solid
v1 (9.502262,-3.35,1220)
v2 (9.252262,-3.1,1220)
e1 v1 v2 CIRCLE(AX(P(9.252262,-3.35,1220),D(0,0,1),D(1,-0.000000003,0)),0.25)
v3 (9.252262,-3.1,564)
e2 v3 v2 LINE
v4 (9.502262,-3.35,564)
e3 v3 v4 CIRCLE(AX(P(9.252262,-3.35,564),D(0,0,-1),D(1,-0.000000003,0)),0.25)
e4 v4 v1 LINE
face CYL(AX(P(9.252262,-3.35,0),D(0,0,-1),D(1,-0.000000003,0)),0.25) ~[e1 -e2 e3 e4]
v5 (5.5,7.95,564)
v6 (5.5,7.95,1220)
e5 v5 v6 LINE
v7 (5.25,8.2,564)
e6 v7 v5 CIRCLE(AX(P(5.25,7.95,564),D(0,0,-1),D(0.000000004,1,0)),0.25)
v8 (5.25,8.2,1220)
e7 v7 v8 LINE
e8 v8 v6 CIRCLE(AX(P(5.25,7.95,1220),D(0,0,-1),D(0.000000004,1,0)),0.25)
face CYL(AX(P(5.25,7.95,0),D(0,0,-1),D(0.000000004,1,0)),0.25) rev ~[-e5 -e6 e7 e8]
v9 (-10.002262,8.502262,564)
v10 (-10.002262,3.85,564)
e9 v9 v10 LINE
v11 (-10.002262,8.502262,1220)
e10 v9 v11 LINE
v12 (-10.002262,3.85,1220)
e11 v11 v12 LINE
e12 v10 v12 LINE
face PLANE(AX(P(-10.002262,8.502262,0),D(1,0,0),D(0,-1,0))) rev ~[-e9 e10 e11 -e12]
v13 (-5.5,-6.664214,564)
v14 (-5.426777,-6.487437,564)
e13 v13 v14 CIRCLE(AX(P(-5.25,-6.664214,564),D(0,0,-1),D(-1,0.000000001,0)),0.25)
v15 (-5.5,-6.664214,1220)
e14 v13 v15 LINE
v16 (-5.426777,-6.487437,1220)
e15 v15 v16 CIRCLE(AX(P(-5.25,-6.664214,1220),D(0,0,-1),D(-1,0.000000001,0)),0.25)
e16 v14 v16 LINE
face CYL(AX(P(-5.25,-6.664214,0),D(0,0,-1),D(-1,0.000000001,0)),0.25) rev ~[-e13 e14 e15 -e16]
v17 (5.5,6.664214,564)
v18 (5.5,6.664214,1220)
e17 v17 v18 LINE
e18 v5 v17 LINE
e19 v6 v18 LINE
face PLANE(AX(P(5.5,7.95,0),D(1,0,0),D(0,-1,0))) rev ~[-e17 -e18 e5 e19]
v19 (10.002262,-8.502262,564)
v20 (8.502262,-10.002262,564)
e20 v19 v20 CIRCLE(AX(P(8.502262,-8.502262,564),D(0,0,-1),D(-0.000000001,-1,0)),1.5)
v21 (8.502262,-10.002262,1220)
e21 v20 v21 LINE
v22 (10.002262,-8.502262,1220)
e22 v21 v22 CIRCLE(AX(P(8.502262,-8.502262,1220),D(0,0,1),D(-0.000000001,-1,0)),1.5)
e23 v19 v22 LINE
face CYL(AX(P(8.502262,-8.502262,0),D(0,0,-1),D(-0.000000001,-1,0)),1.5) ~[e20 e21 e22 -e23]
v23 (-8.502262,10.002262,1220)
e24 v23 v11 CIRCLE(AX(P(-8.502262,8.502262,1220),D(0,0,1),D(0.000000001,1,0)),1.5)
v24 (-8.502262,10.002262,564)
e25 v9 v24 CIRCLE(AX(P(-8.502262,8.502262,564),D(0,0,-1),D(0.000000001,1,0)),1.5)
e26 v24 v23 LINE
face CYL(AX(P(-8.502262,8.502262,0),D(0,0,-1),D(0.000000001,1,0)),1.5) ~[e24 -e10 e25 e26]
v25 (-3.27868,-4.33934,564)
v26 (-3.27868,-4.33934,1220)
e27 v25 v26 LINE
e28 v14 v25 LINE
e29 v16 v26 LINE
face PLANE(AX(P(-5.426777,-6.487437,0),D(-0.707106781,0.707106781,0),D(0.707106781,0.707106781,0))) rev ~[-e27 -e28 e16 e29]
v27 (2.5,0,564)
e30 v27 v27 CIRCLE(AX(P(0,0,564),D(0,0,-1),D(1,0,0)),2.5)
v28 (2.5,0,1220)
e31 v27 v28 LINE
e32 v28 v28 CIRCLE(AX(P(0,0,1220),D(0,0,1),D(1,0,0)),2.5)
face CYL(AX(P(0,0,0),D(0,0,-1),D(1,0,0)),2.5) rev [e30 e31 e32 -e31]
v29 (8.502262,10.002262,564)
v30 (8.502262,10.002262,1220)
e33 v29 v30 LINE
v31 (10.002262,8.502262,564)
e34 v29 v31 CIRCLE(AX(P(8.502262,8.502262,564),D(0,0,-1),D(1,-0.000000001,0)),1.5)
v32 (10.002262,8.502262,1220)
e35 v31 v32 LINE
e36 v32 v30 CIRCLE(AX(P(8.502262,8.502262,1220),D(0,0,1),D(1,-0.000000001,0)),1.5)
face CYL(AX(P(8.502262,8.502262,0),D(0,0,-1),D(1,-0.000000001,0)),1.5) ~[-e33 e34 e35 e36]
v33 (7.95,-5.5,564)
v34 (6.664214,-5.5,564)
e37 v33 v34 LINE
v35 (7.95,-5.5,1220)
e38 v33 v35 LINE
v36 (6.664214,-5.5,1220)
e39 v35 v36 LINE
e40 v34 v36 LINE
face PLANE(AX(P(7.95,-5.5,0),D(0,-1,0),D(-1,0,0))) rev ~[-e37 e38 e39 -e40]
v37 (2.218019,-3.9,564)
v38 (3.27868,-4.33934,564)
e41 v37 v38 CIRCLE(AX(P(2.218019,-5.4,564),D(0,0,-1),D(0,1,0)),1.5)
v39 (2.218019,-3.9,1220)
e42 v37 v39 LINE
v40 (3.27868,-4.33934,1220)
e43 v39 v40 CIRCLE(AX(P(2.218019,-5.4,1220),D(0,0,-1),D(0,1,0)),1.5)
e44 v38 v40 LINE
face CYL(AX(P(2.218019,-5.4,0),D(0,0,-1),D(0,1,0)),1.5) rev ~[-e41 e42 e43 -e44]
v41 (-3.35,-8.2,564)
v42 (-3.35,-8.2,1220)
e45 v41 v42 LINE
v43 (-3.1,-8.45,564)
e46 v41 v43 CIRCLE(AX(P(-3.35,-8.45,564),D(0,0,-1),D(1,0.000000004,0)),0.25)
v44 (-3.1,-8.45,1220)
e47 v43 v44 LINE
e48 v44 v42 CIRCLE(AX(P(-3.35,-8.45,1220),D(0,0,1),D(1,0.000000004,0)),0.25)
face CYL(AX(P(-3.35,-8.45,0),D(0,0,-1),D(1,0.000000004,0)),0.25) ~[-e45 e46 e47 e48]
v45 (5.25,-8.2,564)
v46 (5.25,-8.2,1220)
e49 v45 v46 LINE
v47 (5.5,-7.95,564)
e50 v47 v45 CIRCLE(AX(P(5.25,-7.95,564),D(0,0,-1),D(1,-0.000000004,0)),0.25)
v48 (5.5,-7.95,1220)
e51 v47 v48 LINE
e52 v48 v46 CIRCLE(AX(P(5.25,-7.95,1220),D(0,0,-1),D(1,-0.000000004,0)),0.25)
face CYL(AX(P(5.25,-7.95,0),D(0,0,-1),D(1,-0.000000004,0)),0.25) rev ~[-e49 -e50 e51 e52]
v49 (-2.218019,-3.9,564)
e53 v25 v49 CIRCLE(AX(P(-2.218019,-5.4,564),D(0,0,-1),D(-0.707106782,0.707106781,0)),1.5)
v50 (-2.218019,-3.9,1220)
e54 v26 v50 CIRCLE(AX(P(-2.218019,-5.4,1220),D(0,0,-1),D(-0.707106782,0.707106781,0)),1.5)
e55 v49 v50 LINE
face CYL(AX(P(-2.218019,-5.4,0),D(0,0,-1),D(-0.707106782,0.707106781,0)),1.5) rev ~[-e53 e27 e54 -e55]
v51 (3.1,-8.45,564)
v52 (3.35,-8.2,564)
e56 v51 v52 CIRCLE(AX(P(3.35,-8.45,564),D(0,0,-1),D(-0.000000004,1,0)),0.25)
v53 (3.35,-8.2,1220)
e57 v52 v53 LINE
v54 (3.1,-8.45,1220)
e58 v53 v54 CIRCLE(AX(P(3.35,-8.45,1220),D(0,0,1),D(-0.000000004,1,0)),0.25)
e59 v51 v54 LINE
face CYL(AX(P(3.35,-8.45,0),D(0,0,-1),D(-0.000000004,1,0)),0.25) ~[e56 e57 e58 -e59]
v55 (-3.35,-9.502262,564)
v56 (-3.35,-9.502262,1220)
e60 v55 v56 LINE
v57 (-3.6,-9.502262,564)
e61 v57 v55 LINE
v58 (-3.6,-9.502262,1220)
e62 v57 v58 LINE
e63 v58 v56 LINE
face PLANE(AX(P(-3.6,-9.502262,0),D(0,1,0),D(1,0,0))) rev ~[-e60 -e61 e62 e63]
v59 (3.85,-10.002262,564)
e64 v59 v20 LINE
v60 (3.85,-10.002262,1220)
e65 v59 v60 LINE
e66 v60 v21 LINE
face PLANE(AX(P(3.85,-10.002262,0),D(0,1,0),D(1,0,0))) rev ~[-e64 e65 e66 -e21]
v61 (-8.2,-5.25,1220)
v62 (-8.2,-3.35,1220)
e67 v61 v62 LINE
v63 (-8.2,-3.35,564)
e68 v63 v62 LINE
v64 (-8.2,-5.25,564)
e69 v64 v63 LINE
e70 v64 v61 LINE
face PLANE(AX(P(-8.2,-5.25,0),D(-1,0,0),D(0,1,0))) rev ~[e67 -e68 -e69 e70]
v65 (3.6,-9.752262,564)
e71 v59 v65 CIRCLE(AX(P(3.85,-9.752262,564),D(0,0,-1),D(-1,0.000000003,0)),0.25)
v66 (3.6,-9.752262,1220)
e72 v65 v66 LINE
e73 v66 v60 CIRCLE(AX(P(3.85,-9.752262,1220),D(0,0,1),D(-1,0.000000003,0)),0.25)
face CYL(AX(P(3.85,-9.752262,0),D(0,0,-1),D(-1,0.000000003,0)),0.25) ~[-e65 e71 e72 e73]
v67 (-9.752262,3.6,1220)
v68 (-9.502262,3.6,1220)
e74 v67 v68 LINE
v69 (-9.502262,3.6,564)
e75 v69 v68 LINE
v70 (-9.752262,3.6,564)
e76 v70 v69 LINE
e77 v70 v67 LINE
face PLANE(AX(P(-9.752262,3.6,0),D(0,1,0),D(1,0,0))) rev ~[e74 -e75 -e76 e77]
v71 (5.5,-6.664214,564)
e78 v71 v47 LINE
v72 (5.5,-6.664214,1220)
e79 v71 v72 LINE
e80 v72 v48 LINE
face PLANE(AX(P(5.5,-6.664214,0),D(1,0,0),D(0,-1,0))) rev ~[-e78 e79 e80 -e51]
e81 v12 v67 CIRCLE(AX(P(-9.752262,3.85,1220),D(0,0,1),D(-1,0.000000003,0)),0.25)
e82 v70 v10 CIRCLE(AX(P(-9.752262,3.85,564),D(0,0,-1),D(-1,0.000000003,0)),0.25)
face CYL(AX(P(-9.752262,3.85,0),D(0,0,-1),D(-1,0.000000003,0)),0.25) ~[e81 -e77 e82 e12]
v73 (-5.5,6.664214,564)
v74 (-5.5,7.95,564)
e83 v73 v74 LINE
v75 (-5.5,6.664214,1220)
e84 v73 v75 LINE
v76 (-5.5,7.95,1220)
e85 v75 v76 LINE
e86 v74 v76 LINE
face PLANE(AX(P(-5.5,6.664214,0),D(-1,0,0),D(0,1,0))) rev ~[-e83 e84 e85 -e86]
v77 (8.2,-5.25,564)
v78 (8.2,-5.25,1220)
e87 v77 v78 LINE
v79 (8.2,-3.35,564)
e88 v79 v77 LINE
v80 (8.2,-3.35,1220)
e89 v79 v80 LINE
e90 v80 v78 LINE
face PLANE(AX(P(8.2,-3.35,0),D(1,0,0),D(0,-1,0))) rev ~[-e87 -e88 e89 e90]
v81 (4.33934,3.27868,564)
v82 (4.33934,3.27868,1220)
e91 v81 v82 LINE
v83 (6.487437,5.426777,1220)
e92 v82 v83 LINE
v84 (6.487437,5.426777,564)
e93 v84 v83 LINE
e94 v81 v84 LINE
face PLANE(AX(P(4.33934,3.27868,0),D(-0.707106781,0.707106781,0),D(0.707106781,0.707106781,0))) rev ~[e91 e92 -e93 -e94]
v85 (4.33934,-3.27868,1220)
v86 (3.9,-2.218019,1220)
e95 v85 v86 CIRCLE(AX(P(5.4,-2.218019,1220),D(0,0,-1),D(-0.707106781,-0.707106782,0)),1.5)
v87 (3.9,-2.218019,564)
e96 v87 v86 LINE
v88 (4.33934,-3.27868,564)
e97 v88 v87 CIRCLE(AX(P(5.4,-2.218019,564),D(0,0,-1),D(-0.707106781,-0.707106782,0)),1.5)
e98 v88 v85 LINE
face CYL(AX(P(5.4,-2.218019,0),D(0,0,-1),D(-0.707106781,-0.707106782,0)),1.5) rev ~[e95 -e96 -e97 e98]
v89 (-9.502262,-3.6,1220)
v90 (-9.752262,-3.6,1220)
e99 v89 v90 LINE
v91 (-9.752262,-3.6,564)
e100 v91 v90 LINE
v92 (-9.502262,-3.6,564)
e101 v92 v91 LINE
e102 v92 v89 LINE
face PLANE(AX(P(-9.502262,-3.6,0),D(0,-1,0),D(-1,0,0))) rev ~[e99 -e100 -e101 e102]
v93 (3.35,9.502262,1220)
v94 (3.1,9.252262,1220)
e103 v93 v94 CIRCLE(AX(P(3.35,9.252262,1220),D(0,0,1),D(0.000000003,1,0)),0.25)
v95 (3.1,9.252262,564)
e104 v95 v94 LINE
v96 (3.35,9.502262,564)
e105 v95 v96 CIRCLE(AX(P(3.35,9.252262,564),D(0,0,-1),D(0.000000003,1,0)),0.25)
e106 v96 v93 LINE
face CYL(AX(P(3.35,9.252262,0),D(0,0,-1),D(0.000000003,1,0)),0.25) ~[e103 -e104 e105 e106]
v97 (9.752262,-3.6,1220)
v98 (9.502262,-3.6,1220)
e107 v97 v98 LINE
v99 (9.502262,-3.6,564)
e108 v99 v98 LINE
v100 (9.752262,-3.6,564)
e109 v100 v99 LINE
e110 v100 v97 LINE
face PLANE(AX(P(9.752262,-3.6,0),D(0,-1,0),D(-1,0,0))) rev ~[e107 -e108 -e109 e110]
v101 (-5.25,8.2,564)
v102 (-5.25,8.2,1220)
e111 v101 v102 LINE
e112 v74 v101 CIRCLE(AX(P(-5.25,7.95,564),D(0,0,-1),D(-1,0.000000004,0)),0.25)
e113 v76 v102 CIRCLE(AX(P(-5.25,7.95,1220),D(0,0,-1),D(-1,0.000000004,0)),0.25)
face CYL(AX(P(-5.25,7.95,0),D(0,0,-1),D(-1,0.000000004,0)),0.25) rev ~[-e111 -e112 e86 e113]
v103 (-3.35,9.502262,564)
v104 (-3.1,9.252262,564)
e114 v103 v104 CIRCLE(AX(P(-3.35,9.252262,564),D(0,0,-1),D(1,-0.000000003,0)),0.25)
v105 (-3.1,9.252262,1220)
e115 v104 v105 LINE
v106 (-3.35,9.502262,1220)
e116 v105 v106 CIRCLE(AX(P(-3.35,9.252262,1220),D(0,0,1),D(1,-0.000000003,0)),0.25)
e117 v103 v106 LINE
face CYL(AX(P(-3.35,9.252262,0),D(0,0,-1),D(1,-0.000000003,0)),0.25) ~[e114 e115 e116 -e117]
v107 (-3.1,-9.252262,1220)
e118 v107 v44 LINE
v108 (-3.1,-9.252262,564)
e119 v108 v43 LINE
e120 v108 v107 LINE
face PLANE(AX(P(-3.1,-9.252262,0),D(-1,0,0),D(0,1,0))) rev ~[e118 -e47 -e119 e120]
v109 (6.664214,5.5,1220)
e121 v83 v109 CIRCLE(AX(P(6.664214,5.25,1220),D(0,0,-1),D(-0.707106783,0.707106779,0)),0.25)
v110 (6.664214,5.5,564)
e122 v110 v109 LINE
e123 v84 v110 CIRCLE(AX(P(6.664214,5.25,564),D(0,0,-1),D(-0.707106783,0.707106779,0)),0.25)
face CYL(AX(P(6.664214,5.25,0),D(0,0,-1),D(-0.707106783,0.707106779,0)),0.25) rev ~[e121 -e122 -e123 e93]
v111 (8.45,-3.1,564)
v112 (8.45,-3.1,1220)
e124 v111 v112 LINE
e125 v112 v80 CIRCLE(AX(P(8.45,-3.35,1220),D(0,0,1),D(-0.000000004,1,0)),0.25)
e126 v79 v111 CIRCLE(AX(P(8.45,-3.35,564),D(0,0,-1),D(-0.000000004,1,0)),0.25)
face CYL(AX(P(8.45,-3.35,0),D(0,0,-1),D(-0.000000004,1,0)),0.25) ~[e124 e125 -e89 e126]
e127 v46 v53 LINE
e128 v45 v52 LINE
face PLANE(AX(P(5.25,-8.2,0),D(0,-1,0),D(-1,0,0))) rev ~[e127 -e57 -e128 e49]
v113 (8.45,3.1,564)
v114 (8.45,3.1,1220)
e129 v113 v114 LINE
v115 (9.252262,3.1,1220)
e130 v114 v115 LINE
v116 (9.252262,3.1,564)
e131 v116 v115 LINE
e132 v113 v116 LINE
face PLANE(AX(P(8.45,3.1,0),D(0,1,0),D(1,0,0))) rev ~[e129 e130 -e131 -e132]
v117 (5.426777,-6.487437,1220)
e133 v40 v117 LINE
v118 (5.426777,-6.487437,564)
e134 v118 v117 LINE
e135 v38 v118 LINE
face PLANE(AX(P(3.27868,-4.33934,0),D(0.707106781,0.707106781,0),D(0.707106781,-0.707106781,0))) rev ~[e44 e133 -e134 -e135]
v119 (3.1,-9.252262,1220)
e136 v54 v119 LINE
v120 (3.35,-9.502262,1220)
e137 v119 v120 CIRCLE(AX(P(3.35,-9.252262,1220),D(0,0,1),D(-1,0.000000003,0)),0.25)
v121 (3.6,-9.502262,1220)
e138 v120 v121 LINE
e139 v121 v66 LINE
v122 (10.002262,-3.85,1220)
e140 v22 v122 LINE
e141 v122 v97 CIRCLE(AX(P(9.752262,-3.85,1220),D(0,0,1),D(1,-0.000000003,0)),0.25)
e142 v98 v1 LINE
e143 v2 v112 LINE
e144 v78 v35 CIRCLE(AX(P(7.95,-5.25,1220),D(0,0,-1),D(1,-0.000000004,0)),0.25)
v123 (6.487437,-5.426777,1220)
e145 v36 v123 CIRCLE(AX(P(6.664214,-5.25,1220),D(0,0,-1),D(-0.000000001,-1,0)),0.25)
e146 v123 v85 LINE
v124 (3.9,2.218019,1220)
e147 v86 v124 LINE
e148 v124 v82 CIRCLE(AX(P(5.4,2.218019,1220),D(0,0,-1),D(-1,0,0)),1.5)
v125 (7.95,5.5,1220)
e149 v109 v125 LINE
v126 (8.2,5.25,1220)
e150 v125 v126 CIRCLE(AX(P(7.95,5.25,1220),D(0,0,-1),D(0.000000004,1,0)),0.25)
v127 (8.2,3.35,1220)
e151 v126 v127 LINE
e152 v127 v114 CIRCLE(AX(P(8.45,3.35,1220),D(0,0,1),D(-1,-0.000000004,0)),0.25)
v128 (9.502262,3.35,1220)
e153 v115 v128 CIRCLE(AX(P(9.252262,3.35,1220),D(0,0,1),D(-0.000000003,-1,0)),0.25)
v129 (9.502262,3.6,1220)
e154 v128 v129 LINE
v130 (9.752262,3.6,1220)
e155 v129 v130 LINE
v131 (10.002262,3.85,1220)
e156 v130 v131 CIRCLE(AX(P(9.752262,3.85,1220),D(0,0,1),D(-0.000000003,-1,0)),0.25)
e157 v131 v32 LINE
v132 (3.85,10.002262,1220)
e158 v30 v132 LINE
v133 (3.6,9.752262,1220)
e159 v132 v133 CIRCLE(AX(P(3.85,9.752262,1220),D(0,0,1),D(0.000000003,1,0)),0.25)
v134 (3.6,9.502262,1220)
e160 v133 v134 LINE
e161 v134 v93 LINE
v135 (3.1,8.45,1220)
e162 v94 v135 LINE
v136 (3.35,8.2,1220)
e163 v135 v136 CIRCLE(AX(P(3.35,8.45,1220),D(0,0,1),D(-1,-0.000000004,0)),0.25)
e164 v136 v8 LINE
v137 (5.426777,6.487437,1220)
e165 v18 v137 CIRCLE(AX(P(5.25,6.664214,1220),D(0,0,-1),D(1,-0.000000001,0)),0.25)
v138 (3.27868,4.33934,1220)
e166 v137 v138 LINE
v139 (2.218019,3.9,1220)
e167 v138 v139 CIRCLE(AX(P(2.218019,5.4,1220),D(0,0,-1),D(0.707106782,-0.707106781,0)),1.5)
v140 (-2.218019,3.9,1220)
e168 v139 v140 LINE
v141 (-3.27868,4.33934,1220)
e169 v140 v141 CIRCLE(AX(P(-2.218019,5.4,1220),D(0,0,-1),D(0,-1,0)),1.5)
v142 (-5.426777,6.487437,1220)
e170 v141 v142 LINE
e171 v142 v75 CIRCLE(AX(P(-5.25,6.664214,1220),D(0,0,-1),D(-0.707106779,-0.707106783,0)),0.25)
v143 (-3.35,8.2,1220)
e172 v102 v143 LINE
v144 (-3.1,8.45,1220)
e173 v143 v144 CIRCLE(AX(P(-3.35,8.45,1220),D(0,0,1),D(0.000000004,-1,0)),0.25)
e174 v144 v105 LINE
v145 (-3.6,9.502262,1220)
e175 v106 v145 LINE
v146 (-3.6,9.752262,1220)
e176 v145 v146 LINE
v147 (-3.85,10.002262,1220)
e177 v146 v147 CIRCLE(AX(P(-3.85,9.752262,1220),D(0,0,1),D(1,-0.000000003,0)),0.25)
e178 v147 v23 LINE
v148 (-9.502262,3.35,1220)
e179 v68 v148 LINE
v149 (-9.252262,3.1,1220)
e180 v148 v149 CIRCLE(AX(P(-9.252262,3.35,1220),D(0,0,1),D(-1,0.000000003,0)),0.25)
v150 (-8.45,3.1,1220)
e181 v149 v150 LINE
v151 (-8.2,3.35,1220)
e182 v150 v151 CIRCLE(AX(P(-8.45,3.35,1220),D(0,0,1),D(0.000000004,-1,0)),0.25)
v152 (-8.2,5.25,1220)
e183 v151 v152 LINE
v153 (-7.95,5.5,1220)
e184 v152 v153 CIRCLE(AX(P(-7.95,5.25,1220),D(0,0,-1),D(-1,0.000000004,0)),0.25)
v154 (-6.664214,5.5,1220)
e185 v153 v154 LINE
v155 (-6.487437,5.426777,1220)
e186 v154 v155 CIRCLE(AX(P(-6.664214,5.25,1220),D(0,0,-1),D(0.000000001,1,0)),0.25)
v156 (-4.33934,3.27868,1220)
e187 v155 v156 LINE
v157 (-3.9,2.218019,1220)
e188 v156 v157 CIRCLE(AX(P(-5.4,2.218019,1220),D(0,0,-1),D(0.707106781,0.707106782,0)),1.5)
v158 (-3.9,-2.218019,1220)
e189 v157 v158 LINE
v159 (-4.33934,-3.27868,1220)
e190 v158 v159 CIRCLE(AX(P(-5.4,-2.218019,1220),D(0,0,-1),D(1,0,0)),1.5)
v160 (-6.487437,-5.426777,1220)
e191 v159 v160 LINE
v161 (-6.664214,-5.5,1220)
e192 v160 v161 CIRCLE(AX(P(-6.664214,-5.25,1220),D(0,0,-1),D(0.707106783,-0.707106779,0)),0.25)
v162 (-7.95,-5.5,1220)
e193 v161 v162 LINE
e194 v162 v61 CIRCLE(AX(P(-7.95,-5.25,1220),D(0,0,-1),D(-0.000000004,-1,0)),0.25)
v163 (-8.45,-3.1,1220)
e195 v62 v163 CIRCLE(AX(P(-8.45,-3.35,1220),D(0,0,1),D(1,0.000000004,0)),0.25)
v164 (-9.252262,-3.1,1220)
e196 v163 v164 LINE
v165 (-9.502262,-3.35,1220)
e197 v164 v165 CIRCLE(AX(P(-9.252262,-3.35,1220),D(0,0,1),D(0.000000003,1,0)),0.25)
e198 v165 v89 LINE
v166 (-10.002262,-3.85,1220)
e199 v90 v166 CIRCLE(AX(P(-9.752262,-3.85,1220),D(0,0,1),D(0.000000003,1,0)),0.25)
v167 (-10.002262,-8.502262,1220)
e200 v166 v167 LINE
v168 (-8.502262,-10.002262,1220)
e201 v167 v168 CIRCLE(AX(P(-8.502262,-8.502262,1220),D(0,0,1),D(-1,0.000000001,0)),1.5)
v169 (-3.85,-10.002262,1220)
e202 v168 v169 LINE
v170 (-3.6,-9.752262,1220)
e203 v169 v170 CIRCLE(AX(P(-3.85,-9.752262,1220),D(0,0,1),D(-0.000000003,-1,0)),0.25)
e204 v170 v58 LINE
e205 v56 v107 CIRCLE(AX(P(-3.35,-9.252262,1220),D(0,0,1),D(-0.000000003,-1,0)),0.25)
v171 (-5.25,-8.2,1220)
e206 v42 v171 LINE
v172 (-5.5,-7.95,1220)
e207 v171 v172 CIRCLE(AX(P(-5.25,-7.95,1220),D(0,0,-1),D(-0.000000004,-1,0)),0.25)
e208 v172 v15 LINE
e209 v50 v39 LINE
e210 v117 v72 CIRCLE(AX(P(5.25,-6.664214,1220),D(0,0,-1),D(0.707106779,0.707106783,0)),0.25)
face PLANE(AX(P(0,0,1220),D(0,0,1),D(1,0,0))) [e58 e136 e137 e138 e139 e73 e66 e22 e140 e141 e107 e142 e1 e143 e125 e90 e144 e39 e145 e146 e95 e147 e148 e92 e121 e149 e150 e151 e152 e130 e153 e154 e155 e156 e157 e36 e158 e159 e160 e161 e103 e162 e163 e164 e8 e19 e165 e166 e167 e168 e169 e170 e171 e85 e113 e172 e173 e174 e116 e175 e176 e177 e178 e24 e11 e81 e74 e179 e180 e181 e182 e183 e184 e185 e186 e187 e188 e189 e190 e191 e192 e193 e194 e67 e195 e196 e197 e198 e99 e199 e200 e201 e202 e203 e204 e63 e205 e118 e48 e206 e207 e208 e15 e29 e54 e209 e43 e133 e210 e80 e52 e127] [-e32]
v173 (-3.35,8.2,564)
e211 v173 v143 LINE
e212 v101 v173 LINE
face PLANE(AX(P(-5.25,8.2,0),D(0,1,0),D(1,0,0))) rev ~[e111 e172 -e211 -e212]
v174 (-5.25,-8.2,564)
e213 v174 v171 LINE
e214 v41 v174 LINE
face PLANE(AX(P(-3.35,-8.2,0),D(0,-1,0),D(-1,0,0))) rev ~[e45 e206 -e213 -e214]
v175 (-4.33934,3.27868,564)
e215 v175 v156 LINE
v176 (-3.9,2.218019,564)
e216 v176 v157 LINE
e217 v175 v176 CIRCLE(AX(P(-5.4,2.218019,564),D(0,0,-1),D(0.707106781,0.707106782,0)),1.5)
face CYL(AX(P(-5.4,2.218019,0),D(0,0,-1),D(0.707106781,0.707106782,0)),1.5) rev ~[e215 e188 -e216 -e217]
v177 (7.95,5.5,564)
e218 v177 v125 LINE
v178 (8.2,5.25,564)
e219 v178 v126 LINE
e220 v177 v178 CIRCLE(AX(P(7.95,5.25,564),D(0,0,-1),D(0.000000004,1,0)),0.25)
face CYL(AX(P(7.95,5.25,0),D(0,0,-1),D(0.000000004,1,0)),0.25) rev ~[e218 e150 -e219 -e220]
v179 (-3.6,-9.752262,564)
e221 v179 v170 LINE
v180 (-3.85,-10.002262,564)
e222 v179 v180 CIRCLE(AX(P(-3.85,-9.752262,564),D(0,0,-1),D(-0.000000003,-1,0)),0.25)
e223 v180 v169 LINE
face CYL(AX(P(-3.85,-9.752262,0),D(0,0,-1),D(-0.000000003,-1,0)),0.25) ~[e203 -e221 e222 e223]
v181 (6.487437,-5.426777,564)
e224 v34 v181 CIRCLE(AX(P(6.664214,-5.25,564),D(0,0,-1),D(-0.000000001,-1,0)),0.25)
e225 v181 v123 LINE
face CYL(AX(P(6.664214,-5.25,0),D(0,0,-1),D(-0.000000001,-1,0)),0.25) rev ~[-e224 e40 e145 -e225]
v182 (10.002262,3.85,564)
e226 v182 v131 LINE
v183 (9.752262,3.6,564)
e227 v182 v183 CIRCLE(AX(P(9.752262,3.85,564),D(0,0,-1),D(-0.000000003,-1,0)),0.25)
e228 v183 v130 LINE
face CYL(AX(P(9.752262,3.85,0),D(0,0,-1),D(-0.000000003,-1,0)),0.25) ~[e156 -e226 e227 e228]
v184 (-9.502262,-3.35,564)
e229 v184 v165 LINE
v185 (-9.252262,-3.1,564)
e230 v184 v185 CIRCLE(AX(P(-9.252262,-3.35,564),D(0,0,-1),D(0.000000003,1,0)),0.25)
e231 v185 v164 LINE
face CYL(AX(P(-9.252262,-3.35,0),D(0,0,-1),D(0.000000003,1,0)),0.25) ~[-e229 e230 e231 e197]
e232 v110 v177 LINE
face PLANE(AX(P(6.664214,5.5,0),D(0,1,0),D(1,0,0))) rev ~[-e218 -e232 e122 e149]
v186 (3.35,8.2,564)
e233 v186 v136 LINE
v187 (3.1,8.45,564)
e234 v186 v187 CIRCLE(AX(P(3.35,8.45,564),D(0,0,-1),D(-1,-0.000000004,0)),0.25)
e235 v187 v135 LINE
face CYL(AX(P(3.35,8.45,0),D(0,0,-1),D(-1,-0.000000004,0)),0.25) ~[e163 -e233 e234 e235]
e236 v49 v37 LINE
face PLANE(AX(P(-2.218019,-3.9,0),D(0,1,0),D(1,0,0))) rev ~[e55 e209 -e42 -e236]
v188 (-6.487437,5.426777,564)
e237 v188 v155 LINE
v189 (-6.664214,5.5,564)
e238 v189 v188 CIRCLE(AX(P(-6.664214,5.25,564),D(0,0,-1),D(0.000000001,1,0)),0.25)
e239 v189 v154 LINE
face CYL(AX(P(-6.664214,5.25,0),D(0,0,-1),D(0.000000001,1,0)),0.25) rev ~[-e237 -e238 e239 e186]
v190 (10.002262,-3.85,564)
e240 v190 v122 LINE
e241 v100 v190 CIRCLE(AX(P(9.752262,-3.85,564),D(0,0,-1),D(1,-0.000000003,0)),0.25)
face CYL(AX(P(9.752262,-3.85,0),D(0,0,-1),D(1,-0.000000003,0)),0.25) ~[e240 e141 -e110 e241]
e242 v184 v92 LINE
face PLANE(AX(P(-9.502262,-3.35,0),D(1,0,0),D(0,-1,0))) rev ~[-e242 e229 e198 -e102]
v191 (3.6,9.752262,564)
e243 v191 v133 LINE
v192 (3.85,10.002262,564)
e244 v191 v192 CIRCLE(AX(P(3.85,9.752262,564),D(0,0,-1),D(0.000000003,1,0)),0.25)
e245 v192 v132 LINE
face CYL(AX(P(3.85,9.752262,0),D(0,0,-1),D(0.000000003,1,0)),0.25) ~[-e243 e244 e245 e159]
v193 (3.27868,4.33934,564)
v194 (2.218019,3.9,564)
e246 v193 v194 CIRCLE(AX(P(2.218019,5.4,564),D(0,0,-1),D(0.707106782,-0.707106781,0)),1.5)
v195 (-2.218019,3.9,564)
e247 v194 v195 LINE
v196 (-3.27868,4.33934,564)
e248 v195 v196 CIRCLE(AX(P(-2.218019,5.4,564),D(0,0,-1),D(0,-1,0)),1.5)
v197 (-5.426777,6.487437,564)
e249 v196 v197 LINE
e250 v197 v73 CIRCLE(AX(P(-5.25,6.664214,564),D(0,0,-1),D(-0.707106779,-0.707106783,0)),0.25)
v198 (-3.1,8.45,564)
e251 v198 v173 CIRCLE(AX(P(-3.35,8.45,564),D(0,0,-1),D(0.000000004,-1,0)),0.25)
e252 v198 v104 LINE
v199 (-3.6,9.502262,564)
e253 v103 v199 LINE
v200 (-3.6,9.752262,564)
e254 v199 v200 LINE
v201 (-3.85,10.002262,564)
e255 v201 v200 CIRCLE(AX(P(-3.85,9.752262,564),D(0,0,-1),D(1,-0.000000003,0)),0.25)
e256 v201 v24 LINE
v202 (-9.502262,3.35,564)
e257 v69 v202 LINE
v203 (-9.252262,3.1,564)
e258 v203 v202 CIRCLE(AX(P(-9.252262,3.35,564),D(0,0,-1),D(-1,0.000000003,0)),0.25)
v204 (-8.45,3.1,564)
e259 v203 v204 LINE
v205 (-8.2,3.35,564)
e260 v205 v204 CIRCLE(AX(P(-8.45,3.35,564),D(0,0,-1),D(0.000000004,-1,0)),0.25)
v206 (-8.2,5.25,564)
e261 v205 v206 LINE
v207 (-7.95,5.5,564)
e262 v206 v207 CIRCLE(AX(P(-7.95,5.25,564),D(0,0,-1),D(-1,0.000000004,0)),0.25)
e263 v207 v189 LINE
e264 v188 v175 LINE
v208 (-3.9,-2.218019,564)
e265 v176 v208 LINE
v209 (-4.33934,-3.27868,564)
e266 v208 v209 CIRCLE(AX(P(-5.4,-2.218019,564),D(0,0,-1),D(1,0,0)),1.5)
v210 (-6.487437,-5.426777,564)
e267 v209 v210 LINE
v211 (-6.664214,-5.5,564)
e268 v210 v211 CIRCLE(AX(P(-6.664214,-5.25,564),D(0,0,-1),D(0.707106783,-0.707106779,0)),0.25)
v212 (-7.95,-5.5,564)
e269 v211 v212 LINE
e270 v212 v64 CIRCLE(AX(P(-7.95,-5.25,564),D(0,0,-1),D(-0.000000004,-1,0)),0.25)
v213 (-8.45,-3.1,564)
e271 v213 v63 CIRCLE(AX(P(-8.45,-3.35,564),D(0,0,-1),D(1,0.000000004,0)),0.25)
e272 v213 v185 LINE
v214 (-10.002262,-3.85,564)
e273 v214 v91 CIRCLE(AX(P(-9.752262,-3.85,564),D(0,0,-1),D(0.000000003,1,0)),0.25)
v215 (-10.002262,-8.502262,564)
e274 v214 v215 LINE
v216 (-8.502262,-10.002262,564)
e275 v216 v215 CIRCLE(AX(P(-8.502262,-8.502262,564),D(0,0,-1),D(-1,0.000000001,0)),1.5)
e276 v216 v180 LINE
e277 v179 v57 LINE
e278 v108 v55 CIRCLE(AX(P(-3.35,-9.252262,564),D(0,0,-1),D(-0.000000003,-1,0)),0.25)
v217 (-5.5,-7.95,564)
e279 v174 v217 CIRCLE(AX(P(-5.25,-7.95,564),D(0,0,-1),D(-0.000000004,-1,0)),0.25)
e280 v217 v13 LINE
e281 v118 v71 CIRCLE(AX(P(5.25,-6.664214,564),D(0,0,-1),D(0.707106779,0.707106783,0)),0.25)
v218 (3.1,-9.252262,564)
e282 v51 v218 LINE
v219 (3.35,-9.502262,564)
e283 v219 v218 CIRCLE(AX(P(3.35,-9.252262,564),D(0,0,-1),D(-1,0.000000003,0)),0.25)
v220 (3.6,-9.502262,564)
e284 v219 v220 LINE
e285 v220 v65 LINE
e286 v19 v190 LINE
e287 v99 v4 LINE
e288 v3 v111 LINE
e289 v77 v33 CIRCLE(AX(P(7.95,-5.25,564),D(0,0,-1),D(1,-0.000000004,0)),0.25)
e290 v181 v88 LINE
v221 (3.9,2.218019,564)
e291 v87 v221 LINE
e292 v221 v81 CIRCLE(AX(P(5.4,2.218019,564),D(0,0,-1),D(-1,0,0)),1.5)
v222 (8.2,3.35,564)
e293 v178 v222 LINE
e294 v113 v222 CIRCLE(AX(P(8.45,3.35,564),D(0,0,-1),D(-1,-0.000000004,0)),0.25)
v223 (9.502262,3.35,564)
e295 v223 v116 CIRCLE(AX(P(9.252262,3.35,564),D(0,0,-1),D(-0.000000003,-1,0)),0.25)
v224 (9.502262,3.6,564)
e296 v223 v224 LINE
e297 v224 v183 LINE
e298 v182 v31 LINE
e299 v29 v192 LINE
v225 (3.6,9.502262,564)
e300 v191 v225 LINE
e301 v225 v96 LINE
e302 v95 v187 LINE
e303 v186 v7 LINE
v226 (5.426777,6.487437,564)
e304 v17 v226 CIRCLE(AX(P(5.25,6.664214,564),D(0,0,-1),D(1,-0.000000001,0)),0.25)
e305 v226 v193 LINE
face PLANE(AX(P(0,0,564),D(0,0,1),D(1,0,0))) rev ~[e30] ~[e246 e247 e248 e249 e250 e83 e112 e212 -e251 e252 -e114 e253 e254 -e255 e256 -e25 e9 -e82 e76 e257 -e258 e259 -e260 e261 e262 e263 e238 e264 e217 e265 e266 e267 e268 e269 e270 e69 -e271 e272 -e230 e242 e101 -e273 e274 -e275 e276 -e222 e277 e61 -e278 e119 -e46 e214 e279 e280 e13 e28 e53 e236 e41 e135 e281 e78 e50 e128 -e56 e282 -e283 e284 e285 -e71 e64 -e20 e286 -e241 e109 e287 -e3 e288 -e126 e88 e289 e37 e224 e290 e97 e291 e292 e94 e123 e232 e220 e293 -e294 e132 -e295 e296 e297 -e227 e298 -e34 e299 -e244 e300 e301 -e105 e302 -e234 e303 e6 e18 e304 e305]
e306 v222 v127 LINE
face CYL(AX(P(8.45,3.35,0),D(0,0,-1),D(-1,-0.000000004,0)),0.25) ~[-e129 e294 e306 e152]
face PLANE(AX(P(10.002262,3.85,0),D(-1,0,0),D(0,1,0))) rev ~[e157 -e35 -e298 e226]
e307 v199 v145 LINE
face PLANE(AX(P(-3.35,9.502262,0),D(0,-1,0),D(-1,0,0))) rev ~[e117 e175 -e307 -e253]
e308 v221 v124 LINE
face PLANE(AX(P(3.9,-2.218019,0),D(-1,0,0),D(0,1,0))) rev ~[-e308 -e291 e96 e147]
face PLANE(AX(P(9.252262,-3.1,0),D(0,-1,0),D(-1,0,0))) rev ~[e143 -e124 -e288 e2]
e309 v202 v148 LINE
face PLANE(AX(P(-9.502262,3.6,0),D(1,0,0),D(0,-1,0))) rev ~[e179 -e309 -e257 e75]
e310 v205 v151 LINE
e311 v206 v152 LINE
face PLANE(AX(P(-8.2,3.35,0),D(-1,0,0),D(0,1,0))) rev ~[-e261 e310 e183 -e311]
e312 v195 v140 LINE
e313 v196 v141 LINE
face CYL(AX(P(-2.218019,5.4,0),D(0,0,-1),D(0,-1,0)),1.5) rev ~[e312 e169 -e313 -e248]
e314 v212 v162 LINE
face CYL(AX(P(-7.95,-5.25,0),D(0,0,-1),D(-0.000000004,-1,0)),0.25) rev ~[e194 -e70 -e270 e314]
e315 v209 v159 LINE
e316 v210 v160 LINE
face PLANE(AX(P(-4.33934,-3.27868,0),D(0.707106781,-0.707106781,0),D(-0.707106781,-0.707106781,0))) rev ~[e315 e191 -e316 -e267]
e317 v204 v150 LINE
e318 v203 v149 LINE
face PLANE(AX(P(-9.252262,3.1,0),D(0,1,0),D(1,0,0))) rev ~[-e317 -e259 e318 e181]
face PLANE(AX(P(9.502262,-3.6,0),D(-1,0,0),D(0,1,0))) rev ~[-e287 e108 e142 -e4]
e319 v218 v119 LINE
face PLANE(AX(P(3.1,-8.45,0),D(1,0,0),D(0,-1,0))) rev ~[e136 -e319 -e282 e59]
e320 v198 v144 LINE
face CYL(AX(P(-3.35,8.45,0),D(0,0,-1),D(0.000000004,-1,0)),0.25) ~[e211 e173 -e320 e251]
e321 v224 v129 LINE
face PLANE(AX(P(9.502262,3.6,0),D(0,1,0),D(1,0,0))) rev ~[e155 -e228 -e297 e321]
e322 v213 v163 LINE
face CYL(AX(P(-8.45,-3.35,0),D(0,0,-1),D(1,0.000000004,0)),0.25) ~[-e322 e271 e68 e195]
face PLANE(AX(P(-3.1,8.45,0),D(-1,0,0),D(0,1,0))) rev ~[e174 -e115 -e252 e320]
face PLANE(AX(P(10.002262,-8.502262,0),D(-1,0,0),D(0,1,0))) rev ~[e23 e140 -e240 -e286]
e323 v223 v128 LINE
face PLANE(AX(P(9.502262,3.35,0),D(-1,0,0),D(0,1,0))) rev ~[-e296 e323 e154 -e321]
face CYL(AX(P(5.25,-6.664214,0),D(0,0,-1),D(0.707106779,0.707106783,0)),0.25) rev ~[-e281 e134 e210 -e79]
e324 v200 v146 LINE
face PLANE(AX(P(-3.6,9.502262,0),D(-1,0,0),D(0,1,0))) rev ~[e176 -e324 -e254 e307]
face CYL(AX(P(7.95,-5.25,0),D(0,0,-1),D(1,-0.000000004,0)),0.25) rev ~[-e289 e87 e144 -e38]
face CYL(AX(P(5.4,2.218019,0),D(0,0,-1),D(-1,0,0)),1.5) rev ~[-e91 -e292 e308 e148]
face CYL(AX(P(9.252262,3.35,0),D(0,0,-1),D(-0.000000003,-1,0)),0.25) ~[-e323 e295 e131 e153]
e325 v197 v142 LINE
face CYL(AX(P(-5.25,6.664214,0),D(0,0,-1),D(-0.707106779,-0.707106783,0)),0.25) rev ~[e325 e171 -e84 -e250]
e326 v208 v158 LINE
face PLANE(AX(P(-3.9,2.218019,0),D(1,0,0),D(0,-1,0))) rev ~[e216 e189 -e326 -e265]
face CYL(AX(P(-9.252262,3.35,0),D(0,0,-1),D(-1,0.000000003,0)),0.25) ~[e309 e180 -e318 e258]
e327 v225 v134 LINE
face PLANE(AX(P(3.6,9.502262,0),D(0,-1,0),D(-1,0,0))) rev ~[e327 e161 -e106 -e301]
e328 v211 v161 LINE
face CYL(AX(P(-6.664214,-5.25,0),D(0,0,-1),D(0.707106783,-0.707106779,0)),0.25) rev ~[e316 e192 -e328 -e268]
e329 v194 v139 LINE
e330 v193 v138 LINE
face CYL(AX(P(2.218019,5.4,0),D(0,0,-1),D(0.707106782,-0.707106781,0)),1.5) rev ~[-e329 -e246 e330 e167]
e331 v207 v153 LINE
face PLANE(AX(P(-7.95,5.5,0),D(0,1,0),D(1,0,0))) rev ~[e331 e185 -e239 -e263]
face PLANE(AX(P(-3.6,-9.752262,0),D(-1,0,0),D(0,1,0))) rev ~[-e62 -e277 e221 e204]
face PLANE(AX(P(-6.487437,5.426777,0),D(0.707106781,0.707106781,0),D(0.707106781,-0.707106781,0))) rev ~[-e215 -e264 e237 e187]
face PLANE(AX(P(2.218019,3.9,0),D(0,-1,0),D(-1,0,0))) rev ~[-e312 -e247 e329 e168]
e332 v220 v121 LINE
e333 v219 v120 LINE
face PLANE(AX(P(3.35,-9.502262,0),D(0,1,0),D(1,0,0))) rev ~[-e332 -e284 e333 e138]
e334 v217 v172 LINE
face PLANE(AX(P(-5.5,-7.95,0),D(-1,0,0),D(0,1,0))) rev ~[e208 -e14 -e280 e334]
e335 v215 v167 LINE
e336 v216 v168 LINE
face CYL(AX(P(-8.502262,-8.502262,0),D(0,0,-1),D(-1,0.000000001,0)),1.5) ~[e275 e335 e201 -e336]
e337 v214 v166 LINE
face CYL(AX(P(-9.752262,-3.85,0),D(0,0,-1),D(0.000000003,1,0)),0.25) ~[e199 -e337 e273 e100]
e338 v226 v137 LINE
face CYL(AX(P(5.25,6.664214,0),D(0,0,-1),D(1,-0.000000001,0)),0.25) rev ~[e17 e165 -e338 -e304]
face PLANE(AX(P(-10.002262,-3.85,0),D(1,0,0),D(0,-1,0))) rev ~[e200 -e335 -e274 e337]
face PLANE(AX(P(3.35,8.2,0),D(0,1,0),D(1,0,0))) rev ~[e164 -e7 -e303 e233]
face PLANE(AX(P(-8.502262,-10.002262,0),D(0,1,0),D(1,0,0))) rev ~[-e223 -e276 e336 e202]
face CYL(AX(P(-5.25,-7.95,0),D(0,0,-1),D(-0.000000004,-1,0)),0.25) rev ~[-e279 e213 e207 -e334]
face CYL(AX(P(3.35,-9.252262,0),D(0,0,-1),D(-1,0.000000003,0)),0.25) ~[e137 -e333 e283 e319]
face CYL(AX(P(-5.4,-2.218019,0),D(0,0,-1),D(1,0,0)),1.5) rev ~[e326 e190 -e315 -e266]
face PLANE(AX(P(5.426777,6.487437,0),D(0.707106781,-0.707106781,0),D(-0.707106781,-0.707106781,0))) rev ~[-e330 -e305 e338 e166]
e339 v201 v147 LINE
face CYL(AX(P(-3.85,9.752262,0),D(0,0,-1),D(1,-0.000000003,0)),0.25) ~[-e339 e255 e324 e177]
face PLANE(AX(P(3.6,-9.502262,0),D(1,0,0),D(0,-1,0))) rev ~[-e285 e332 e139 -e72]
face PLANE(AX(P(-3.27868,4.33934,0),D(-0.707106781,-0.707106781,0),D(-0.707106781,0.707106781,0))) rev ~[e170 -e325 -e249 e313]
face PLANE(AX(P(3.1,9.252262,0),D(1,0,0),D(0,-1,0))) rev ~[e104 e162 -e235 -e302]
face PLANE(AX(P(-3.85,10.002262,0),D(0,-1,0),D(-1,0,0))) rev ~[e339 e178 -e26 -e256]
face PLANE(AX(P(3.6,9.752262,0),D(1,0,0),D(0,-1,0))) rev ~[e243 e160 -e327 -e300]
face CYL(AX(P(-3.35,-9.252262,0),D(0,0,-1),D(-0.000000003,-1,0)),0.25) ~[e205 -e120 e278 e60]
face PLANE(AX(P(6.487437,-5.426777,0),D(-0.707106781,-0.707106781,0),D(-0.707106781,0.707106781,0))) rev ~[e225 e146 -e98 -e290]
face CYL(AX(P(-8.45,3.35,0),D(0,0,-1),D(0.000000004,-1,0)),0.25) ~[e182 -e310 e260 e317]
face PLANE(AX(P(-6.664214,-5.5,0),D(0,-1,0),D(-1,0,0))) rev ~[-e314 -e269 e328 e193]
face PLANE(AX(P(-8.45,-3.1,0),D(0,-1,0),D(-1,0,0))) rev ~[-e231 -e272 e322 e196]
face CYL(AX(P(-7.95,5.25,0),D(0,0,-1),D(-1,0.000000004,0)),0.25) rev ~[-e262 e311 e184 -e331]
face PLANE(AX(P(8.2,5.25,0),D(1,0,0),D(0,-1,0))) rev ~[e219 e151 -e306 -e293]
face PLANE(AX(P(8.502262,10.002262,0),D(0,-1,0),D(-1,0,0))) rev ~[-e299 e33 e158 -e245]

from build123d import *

# Parameters (mm, degrees)
SKETCH_1_R         = 2.5
EXTRUDE_1_DEPTH    = 1220
SKETCH1_R          = 16.771487081
CUT_EXTRUDE1_DEPTH = 565


with BuildPart() as part:
    # 草图1 → 凸台-拉伸1 (new body)
    with BuildSketch(Plane.XY):
        with BuildLine():
            Line((-8.502261885, -10.002261885), (-3.85, -10.002261885))
            ThreePointArc((-3.85, -10.002261885), (-3.673223305, -9.929038581), (-3.6, -9.752261885))
            Line((-3.6, -9.752261885), (-3.6, -9.502261885))
            Line((-3.6, -9.502261885), (-3.35, -9.502261885))
            ThreePointArc((-3.35, -9.502261885), (-3.173223305, -9.429038581), (-3.1, -9.252261885))
            Line((-3.1, -9.252261885), (-3.1, -8.45))
            ThreePointArc((-3.1, -8.45), (-3.173223305, -8.273223305), (-3.35, -8.2))
            Line((-3.35, -8.2), (-5.25, -8.2))
            ThreePointArc((-5.25, -8.2), (-5.426776695, -8.126776695), (-5.5, -7.95))
            Line((-5.5, -7.95), (-5.5, -6.664213562))
            ThreePointArc((-5.5, -6.664213562), (-5.480969883, -6.568542704), (-5.426776695, -6.487436867))
            Line((-5.426776695, -6.487436867), (-3.278679656, -4.339339828))
            ThreePointArc((-3.278679656, -4.339339828), (-2.792044633, -4.014180701), (-2.218019485, -3.9))
            Line((-2.218019485, -3.9), (2.218019485, -3.9))
            ThreePointArc((2.218019485, -3.9), (2.792044633, -4.014180701), (3.278679656, -4.339339828))
            Line((3.278679656, -4.339339828), (5.426776695, -6.487436867))
            ThreePointArc((5.426776695, -6.487436867), (5.480969883, -6.568542704), (5.5, -6.664213562))
            Line((5.5, -6.664213562), (5.5, -7.95))
            ThreePointArc((5.5, -7.95), (5.426776695, -8.126776695), (5.25, -8.2))
            Line((5.25, -8.2), (3.35, -8.2))
            ThreePointArc((3.35, -8.2), (3.173223305, -8.273223305), (3.1, -8.45))
            Line((3.1, -8.45), (3.1, -9.252261885))
            ThreePointArc((3.1, -9.252261885), (3.173223305, -9.429038581), (3.35, -9.502261885))
            Line((3.35, -9.502261885), (3.6, -9.502261885))
            Line((3.6, -9.502261885), (3.6, -9.752261885))
            ThreePointArc((3.6, -9.752261885), (3.673223305, -9.929038581), (3.85, -10.002261885))
            Line((3.85, -10.002261885), (8.502261885, -10.002261885))
            ThreePointArc((8.502261885, -10.002261885), (9.562922057, -9.562922057), (10.002261885, -8.502261885))
            Line((10.002261885, -8.502261885), (10.002261885, -3.85))
            ThreePointArc((10.002261885, -3.85), (9.929038581, -3.673223305), (9.752261885, -3.6))
            Line((9.752261885, -3.6), (9.502261885, -3.6))
            Line((9.502261885, -3.6), (9.502261885, -3.35))
            ThreePointArc((9.502261885, -3.35), (9.429038581, -3.173223305), (9.252261885, -3.1))
            Line((9.252261885, -3.1), (8.45, -3.1))
            ThreePointArc((8.45, -3.1), (8.273223305, -3.173223305), (8.2, -3.35))
            Line((8.2, -3.35), (8.2, -5.25))
            ThreePointArc((8.2, -5.25), (8.126776695, -5.426776695), (7.95, -5.5))
            Line((7.95, -5.5), (6.664213562, -5.5))
            ThreePointArc((6.664213562, -5.5), (6.568542704, -5.480969883), (6.487436867, -5.426776695))
            Line((6.487436867, -5.426776695), (4.339339828, -3.278679656))
            ThreePointArc((4.339339828, -3.278679656), (4.014180701, -2.792044633), (3.9, -2.218019485))
            Line((3.9, -2.218019485), (3.9, 2.218019485))
            ThreePointArc((3.9, 2.218019485), (4.014180701, 2.792044633), (4.339339828, 3.278679656))
            Line((4.339339828, 3.278679656), (6.487436867, 5.426776695))
            ThreePointArc((6.487436867, 5.426776695), (6.568542704, 5.480969883), (6.664213562, 5.5))
            Line((6.664213562, 5.5), (7.95, 5.5))
            ThreePointArc((7.95, 5.5), (8.126776695, 5.426776695), (8.2, 5.25))
            Line((8.2, 5.25), (8.2, 3.35))
            ThreePointArc((8.2, 3.35), (8.273223305, 3.173223305), (8.45, 3.1))
            Line((8.45, 3.1), (9.252261885, 3.1))
            ThreePointArc((9.252261885, 3.1), (9.429038581, 3.173223305), (9.502261885, 3.35))
            Line((9.502261885, 3.35), (9.502261885, 3.6))
            Line((9.502261885, 3.6), (9.752261885, 3.6))
            ThreePointArc((9.752261885, 3.6), (9.929038581, 3.673223305), (10.002261885, 3.85))
            Line((10.002261885, 3.85), (10.002261885, 8.502261885))
            ThreePointArc((10.002261885, 8.502261885), (9.562922057, 9.562922057), (8.502261885, 10.002261885))
            Line((8.502261885, 10.002261885), (3.85, 10.002261885))
            ThreePointArc((3.85, 10.002261885), (3.673223305, 9.929038581), (3.6, 9.752261885))
            Line((3.6, 9.752261885), (3.6, 9.502261885))
            Line((3.6, 9.502261885), (3.35, 9.502261885))
            ThreePointArc((3.35, 9.502261885), (3.173223305, 9.429038581), (3.1, 9.252261885))
            Line((3.1, 9.252261885), (3.1, 8.45))
            ThreePointArc((3.1, 8.45), (3.173223305, 8.273223305), (3.35, 8.2))
            Line((3.35, 8.2), (5.25, 8.2))
            ThreePointArc((5.25, 8.2), (5.426776695, 8.126776695), (5.5, 7.95))
            Line((5.5, 7.95), (5.5, 6.664213562))
            ThreePointArc((5.5, 6.664213562), (5.480969883, 6.568542704), (5.426776695, 6.487436867))
            Line((5.426776695, 6.487436867), (3.278679656, 4.339339828))
            ThreePointArc((3.278679656, 4.339339828), (2.792044633, 4.014180701), (2.218019485, 3.9))
            Line((2.218019485, 3.9), (-2.218019485, 3.9))
            ThreePointArc((-2.218019485, 3.9), (-2.792044633, 4.014180701), (-3.278679656, 4.339339828))
            Line((-3.278679656, 4.339339828), (-5.426776695, 6.487436867))
            ThreePointArc((-5.426776695, 6.487436867), (-5.480969883, 6.568542704), (-5.5, 6.664213562))
            Line((-5.5, 6.664213562), (-5.5, 7.95))
            ThreePointArc((-5.5, 7.95), (-5.426776695, 8.126776695), (-5.25, 8.2))
            Line((-5.25, 8.2), (-3.35, 8.2))
            ThreePointArc((-3.35, 8.2), (-3.173223305, 8.273223305), (-3.1, 8.45))
            Line((-3.1, 8.45), (-3.1, 9.252261885))
            ThreePointArc((-3.1, 9.252261885), (-3.173223305, 9.429038581), (-3.35, 9.502261885))
            Line((-3.35, 9.502261885), (-3.6, 9.502261885))
            Line((-3.6, 9.502261885), (-3.6, 9.752261885))
            ThreePointArc((-3.6, 9.752261885), (-3.673223305, 9.929038581), (-3.85, 10.002261885))
            Line((-3.85, 10.002261885), (-8.502261885, 10.002261885))
            ThreePointArc((-8.502261885, 10.002261885), (-9.562922057, 9.562922057), (-10.002261885, 8.502261885))
            Line((-10.002261885, 8.502261885), (-10.002261885, 3.85))
            ThreePointArc((-10.002261885, 3.85), (-9.929038581, 3.673223305), (-9.752261885, 3.6))
            Line((-9.752261885, 3.6), (-9.502261885, 3.6))
            Line((-9.502261885, 3.6), (-9.502261885, 3.35))
            ThreePointArc((-9.502261885, 3.35), (-9.429038581, 3.173223305), (-9.252261885, 3.1))
            Line((-9.252261885, 3.1), (-8.45, 3.1))
            ThreePointArc((-8.45, 3.1), (-8.273223305, 3.173223305), (-8.2, 3.35))
            Line((-8.2, 3.35), (-8.2, 5.25))
            ThreePointArc((-8.2, 5.25), (-8.126776695, 5.426776695), (-7.95, 5.5))
            Line((-7.95, 5.5), (-6.664213562, 5.5))
            ThreePointArc((-6.664213562, 5.5), (-6.568542704, 5.480969883), (-6.487436867, 5.426776695))
            Line((-6.487436867, 5.426776695), (-4.339339828, 3.278679656))
            ThreePointArc((-4.339339828, 3.278679656), (-4.014180701, 2.792044633), (-3.9, 2.218019485))
            Line((-3.9, 2.218019485), (-3.9, -2.218019485))
            ThreePointArc((-3.9, -2.218019485), (-4.014180701, -2.792044633), (-4.339339828, -3.278679656))
            Line((-4.339339828, -3.278679656), (-6.487436867, -5.426776695))
            ThreePointArc((-6.487436867, -5.426776695), (-6.568542704, -5.480969883), (-6.664213562, -5.5))
            Line((-6.664213562, -5.5), (-7.95, -5.5))
            ThreePointArc((-7.95, -5.5), (-8.126776695, -5.426776695), (-8.2, -5.25))
            Line((-8.2, -5.25), (-8.2, -3.35))
            ThreePointArc((-8.2, -3.35), (-8.273223305, -3.173223305), (-8.45, -3.1))
            Line((-8.45, -3.1), (-9.252261885, -3.1))
            ThreePointArc((-9.252261885, -3.1), (-9.429038581, -3.173223305), (-9.502261885, -3.35))
            Line((-9.502261885, -3.35), (-9.502261885, -3.6))
            Line((-9.502261885, -3.6), (-9.752261885, -3.6))
            ThreePointArc((-9.752261885, -3.6), (-9.929038581, -3.673223305), (-10.002261885, -3.85))
            Line((-10.002261885, -3.85), (-10.002261885, -8.502261885))
            ThreePointArc((-10.002261885, -8.502261885), (-9.562922057, -9.562922057), (-8.502261885, -10.002261885))
        make_face()
        Circle(SKETCH_1_R, mode=Mode.SUBTRACT)
    extrude(amount=EXTRUDE_1_DEPTH)

    # Sketch1 → Cut-Extrude1 (cut, through all)
    with BuildSketch(Plane.XY.offset(564)):
        Circle(SKETCH1_R)
    extrude(amount=-CUT_EXTRUDE1_DEPTH, mode=Mode.SUBTRACT)


solid = part.part
